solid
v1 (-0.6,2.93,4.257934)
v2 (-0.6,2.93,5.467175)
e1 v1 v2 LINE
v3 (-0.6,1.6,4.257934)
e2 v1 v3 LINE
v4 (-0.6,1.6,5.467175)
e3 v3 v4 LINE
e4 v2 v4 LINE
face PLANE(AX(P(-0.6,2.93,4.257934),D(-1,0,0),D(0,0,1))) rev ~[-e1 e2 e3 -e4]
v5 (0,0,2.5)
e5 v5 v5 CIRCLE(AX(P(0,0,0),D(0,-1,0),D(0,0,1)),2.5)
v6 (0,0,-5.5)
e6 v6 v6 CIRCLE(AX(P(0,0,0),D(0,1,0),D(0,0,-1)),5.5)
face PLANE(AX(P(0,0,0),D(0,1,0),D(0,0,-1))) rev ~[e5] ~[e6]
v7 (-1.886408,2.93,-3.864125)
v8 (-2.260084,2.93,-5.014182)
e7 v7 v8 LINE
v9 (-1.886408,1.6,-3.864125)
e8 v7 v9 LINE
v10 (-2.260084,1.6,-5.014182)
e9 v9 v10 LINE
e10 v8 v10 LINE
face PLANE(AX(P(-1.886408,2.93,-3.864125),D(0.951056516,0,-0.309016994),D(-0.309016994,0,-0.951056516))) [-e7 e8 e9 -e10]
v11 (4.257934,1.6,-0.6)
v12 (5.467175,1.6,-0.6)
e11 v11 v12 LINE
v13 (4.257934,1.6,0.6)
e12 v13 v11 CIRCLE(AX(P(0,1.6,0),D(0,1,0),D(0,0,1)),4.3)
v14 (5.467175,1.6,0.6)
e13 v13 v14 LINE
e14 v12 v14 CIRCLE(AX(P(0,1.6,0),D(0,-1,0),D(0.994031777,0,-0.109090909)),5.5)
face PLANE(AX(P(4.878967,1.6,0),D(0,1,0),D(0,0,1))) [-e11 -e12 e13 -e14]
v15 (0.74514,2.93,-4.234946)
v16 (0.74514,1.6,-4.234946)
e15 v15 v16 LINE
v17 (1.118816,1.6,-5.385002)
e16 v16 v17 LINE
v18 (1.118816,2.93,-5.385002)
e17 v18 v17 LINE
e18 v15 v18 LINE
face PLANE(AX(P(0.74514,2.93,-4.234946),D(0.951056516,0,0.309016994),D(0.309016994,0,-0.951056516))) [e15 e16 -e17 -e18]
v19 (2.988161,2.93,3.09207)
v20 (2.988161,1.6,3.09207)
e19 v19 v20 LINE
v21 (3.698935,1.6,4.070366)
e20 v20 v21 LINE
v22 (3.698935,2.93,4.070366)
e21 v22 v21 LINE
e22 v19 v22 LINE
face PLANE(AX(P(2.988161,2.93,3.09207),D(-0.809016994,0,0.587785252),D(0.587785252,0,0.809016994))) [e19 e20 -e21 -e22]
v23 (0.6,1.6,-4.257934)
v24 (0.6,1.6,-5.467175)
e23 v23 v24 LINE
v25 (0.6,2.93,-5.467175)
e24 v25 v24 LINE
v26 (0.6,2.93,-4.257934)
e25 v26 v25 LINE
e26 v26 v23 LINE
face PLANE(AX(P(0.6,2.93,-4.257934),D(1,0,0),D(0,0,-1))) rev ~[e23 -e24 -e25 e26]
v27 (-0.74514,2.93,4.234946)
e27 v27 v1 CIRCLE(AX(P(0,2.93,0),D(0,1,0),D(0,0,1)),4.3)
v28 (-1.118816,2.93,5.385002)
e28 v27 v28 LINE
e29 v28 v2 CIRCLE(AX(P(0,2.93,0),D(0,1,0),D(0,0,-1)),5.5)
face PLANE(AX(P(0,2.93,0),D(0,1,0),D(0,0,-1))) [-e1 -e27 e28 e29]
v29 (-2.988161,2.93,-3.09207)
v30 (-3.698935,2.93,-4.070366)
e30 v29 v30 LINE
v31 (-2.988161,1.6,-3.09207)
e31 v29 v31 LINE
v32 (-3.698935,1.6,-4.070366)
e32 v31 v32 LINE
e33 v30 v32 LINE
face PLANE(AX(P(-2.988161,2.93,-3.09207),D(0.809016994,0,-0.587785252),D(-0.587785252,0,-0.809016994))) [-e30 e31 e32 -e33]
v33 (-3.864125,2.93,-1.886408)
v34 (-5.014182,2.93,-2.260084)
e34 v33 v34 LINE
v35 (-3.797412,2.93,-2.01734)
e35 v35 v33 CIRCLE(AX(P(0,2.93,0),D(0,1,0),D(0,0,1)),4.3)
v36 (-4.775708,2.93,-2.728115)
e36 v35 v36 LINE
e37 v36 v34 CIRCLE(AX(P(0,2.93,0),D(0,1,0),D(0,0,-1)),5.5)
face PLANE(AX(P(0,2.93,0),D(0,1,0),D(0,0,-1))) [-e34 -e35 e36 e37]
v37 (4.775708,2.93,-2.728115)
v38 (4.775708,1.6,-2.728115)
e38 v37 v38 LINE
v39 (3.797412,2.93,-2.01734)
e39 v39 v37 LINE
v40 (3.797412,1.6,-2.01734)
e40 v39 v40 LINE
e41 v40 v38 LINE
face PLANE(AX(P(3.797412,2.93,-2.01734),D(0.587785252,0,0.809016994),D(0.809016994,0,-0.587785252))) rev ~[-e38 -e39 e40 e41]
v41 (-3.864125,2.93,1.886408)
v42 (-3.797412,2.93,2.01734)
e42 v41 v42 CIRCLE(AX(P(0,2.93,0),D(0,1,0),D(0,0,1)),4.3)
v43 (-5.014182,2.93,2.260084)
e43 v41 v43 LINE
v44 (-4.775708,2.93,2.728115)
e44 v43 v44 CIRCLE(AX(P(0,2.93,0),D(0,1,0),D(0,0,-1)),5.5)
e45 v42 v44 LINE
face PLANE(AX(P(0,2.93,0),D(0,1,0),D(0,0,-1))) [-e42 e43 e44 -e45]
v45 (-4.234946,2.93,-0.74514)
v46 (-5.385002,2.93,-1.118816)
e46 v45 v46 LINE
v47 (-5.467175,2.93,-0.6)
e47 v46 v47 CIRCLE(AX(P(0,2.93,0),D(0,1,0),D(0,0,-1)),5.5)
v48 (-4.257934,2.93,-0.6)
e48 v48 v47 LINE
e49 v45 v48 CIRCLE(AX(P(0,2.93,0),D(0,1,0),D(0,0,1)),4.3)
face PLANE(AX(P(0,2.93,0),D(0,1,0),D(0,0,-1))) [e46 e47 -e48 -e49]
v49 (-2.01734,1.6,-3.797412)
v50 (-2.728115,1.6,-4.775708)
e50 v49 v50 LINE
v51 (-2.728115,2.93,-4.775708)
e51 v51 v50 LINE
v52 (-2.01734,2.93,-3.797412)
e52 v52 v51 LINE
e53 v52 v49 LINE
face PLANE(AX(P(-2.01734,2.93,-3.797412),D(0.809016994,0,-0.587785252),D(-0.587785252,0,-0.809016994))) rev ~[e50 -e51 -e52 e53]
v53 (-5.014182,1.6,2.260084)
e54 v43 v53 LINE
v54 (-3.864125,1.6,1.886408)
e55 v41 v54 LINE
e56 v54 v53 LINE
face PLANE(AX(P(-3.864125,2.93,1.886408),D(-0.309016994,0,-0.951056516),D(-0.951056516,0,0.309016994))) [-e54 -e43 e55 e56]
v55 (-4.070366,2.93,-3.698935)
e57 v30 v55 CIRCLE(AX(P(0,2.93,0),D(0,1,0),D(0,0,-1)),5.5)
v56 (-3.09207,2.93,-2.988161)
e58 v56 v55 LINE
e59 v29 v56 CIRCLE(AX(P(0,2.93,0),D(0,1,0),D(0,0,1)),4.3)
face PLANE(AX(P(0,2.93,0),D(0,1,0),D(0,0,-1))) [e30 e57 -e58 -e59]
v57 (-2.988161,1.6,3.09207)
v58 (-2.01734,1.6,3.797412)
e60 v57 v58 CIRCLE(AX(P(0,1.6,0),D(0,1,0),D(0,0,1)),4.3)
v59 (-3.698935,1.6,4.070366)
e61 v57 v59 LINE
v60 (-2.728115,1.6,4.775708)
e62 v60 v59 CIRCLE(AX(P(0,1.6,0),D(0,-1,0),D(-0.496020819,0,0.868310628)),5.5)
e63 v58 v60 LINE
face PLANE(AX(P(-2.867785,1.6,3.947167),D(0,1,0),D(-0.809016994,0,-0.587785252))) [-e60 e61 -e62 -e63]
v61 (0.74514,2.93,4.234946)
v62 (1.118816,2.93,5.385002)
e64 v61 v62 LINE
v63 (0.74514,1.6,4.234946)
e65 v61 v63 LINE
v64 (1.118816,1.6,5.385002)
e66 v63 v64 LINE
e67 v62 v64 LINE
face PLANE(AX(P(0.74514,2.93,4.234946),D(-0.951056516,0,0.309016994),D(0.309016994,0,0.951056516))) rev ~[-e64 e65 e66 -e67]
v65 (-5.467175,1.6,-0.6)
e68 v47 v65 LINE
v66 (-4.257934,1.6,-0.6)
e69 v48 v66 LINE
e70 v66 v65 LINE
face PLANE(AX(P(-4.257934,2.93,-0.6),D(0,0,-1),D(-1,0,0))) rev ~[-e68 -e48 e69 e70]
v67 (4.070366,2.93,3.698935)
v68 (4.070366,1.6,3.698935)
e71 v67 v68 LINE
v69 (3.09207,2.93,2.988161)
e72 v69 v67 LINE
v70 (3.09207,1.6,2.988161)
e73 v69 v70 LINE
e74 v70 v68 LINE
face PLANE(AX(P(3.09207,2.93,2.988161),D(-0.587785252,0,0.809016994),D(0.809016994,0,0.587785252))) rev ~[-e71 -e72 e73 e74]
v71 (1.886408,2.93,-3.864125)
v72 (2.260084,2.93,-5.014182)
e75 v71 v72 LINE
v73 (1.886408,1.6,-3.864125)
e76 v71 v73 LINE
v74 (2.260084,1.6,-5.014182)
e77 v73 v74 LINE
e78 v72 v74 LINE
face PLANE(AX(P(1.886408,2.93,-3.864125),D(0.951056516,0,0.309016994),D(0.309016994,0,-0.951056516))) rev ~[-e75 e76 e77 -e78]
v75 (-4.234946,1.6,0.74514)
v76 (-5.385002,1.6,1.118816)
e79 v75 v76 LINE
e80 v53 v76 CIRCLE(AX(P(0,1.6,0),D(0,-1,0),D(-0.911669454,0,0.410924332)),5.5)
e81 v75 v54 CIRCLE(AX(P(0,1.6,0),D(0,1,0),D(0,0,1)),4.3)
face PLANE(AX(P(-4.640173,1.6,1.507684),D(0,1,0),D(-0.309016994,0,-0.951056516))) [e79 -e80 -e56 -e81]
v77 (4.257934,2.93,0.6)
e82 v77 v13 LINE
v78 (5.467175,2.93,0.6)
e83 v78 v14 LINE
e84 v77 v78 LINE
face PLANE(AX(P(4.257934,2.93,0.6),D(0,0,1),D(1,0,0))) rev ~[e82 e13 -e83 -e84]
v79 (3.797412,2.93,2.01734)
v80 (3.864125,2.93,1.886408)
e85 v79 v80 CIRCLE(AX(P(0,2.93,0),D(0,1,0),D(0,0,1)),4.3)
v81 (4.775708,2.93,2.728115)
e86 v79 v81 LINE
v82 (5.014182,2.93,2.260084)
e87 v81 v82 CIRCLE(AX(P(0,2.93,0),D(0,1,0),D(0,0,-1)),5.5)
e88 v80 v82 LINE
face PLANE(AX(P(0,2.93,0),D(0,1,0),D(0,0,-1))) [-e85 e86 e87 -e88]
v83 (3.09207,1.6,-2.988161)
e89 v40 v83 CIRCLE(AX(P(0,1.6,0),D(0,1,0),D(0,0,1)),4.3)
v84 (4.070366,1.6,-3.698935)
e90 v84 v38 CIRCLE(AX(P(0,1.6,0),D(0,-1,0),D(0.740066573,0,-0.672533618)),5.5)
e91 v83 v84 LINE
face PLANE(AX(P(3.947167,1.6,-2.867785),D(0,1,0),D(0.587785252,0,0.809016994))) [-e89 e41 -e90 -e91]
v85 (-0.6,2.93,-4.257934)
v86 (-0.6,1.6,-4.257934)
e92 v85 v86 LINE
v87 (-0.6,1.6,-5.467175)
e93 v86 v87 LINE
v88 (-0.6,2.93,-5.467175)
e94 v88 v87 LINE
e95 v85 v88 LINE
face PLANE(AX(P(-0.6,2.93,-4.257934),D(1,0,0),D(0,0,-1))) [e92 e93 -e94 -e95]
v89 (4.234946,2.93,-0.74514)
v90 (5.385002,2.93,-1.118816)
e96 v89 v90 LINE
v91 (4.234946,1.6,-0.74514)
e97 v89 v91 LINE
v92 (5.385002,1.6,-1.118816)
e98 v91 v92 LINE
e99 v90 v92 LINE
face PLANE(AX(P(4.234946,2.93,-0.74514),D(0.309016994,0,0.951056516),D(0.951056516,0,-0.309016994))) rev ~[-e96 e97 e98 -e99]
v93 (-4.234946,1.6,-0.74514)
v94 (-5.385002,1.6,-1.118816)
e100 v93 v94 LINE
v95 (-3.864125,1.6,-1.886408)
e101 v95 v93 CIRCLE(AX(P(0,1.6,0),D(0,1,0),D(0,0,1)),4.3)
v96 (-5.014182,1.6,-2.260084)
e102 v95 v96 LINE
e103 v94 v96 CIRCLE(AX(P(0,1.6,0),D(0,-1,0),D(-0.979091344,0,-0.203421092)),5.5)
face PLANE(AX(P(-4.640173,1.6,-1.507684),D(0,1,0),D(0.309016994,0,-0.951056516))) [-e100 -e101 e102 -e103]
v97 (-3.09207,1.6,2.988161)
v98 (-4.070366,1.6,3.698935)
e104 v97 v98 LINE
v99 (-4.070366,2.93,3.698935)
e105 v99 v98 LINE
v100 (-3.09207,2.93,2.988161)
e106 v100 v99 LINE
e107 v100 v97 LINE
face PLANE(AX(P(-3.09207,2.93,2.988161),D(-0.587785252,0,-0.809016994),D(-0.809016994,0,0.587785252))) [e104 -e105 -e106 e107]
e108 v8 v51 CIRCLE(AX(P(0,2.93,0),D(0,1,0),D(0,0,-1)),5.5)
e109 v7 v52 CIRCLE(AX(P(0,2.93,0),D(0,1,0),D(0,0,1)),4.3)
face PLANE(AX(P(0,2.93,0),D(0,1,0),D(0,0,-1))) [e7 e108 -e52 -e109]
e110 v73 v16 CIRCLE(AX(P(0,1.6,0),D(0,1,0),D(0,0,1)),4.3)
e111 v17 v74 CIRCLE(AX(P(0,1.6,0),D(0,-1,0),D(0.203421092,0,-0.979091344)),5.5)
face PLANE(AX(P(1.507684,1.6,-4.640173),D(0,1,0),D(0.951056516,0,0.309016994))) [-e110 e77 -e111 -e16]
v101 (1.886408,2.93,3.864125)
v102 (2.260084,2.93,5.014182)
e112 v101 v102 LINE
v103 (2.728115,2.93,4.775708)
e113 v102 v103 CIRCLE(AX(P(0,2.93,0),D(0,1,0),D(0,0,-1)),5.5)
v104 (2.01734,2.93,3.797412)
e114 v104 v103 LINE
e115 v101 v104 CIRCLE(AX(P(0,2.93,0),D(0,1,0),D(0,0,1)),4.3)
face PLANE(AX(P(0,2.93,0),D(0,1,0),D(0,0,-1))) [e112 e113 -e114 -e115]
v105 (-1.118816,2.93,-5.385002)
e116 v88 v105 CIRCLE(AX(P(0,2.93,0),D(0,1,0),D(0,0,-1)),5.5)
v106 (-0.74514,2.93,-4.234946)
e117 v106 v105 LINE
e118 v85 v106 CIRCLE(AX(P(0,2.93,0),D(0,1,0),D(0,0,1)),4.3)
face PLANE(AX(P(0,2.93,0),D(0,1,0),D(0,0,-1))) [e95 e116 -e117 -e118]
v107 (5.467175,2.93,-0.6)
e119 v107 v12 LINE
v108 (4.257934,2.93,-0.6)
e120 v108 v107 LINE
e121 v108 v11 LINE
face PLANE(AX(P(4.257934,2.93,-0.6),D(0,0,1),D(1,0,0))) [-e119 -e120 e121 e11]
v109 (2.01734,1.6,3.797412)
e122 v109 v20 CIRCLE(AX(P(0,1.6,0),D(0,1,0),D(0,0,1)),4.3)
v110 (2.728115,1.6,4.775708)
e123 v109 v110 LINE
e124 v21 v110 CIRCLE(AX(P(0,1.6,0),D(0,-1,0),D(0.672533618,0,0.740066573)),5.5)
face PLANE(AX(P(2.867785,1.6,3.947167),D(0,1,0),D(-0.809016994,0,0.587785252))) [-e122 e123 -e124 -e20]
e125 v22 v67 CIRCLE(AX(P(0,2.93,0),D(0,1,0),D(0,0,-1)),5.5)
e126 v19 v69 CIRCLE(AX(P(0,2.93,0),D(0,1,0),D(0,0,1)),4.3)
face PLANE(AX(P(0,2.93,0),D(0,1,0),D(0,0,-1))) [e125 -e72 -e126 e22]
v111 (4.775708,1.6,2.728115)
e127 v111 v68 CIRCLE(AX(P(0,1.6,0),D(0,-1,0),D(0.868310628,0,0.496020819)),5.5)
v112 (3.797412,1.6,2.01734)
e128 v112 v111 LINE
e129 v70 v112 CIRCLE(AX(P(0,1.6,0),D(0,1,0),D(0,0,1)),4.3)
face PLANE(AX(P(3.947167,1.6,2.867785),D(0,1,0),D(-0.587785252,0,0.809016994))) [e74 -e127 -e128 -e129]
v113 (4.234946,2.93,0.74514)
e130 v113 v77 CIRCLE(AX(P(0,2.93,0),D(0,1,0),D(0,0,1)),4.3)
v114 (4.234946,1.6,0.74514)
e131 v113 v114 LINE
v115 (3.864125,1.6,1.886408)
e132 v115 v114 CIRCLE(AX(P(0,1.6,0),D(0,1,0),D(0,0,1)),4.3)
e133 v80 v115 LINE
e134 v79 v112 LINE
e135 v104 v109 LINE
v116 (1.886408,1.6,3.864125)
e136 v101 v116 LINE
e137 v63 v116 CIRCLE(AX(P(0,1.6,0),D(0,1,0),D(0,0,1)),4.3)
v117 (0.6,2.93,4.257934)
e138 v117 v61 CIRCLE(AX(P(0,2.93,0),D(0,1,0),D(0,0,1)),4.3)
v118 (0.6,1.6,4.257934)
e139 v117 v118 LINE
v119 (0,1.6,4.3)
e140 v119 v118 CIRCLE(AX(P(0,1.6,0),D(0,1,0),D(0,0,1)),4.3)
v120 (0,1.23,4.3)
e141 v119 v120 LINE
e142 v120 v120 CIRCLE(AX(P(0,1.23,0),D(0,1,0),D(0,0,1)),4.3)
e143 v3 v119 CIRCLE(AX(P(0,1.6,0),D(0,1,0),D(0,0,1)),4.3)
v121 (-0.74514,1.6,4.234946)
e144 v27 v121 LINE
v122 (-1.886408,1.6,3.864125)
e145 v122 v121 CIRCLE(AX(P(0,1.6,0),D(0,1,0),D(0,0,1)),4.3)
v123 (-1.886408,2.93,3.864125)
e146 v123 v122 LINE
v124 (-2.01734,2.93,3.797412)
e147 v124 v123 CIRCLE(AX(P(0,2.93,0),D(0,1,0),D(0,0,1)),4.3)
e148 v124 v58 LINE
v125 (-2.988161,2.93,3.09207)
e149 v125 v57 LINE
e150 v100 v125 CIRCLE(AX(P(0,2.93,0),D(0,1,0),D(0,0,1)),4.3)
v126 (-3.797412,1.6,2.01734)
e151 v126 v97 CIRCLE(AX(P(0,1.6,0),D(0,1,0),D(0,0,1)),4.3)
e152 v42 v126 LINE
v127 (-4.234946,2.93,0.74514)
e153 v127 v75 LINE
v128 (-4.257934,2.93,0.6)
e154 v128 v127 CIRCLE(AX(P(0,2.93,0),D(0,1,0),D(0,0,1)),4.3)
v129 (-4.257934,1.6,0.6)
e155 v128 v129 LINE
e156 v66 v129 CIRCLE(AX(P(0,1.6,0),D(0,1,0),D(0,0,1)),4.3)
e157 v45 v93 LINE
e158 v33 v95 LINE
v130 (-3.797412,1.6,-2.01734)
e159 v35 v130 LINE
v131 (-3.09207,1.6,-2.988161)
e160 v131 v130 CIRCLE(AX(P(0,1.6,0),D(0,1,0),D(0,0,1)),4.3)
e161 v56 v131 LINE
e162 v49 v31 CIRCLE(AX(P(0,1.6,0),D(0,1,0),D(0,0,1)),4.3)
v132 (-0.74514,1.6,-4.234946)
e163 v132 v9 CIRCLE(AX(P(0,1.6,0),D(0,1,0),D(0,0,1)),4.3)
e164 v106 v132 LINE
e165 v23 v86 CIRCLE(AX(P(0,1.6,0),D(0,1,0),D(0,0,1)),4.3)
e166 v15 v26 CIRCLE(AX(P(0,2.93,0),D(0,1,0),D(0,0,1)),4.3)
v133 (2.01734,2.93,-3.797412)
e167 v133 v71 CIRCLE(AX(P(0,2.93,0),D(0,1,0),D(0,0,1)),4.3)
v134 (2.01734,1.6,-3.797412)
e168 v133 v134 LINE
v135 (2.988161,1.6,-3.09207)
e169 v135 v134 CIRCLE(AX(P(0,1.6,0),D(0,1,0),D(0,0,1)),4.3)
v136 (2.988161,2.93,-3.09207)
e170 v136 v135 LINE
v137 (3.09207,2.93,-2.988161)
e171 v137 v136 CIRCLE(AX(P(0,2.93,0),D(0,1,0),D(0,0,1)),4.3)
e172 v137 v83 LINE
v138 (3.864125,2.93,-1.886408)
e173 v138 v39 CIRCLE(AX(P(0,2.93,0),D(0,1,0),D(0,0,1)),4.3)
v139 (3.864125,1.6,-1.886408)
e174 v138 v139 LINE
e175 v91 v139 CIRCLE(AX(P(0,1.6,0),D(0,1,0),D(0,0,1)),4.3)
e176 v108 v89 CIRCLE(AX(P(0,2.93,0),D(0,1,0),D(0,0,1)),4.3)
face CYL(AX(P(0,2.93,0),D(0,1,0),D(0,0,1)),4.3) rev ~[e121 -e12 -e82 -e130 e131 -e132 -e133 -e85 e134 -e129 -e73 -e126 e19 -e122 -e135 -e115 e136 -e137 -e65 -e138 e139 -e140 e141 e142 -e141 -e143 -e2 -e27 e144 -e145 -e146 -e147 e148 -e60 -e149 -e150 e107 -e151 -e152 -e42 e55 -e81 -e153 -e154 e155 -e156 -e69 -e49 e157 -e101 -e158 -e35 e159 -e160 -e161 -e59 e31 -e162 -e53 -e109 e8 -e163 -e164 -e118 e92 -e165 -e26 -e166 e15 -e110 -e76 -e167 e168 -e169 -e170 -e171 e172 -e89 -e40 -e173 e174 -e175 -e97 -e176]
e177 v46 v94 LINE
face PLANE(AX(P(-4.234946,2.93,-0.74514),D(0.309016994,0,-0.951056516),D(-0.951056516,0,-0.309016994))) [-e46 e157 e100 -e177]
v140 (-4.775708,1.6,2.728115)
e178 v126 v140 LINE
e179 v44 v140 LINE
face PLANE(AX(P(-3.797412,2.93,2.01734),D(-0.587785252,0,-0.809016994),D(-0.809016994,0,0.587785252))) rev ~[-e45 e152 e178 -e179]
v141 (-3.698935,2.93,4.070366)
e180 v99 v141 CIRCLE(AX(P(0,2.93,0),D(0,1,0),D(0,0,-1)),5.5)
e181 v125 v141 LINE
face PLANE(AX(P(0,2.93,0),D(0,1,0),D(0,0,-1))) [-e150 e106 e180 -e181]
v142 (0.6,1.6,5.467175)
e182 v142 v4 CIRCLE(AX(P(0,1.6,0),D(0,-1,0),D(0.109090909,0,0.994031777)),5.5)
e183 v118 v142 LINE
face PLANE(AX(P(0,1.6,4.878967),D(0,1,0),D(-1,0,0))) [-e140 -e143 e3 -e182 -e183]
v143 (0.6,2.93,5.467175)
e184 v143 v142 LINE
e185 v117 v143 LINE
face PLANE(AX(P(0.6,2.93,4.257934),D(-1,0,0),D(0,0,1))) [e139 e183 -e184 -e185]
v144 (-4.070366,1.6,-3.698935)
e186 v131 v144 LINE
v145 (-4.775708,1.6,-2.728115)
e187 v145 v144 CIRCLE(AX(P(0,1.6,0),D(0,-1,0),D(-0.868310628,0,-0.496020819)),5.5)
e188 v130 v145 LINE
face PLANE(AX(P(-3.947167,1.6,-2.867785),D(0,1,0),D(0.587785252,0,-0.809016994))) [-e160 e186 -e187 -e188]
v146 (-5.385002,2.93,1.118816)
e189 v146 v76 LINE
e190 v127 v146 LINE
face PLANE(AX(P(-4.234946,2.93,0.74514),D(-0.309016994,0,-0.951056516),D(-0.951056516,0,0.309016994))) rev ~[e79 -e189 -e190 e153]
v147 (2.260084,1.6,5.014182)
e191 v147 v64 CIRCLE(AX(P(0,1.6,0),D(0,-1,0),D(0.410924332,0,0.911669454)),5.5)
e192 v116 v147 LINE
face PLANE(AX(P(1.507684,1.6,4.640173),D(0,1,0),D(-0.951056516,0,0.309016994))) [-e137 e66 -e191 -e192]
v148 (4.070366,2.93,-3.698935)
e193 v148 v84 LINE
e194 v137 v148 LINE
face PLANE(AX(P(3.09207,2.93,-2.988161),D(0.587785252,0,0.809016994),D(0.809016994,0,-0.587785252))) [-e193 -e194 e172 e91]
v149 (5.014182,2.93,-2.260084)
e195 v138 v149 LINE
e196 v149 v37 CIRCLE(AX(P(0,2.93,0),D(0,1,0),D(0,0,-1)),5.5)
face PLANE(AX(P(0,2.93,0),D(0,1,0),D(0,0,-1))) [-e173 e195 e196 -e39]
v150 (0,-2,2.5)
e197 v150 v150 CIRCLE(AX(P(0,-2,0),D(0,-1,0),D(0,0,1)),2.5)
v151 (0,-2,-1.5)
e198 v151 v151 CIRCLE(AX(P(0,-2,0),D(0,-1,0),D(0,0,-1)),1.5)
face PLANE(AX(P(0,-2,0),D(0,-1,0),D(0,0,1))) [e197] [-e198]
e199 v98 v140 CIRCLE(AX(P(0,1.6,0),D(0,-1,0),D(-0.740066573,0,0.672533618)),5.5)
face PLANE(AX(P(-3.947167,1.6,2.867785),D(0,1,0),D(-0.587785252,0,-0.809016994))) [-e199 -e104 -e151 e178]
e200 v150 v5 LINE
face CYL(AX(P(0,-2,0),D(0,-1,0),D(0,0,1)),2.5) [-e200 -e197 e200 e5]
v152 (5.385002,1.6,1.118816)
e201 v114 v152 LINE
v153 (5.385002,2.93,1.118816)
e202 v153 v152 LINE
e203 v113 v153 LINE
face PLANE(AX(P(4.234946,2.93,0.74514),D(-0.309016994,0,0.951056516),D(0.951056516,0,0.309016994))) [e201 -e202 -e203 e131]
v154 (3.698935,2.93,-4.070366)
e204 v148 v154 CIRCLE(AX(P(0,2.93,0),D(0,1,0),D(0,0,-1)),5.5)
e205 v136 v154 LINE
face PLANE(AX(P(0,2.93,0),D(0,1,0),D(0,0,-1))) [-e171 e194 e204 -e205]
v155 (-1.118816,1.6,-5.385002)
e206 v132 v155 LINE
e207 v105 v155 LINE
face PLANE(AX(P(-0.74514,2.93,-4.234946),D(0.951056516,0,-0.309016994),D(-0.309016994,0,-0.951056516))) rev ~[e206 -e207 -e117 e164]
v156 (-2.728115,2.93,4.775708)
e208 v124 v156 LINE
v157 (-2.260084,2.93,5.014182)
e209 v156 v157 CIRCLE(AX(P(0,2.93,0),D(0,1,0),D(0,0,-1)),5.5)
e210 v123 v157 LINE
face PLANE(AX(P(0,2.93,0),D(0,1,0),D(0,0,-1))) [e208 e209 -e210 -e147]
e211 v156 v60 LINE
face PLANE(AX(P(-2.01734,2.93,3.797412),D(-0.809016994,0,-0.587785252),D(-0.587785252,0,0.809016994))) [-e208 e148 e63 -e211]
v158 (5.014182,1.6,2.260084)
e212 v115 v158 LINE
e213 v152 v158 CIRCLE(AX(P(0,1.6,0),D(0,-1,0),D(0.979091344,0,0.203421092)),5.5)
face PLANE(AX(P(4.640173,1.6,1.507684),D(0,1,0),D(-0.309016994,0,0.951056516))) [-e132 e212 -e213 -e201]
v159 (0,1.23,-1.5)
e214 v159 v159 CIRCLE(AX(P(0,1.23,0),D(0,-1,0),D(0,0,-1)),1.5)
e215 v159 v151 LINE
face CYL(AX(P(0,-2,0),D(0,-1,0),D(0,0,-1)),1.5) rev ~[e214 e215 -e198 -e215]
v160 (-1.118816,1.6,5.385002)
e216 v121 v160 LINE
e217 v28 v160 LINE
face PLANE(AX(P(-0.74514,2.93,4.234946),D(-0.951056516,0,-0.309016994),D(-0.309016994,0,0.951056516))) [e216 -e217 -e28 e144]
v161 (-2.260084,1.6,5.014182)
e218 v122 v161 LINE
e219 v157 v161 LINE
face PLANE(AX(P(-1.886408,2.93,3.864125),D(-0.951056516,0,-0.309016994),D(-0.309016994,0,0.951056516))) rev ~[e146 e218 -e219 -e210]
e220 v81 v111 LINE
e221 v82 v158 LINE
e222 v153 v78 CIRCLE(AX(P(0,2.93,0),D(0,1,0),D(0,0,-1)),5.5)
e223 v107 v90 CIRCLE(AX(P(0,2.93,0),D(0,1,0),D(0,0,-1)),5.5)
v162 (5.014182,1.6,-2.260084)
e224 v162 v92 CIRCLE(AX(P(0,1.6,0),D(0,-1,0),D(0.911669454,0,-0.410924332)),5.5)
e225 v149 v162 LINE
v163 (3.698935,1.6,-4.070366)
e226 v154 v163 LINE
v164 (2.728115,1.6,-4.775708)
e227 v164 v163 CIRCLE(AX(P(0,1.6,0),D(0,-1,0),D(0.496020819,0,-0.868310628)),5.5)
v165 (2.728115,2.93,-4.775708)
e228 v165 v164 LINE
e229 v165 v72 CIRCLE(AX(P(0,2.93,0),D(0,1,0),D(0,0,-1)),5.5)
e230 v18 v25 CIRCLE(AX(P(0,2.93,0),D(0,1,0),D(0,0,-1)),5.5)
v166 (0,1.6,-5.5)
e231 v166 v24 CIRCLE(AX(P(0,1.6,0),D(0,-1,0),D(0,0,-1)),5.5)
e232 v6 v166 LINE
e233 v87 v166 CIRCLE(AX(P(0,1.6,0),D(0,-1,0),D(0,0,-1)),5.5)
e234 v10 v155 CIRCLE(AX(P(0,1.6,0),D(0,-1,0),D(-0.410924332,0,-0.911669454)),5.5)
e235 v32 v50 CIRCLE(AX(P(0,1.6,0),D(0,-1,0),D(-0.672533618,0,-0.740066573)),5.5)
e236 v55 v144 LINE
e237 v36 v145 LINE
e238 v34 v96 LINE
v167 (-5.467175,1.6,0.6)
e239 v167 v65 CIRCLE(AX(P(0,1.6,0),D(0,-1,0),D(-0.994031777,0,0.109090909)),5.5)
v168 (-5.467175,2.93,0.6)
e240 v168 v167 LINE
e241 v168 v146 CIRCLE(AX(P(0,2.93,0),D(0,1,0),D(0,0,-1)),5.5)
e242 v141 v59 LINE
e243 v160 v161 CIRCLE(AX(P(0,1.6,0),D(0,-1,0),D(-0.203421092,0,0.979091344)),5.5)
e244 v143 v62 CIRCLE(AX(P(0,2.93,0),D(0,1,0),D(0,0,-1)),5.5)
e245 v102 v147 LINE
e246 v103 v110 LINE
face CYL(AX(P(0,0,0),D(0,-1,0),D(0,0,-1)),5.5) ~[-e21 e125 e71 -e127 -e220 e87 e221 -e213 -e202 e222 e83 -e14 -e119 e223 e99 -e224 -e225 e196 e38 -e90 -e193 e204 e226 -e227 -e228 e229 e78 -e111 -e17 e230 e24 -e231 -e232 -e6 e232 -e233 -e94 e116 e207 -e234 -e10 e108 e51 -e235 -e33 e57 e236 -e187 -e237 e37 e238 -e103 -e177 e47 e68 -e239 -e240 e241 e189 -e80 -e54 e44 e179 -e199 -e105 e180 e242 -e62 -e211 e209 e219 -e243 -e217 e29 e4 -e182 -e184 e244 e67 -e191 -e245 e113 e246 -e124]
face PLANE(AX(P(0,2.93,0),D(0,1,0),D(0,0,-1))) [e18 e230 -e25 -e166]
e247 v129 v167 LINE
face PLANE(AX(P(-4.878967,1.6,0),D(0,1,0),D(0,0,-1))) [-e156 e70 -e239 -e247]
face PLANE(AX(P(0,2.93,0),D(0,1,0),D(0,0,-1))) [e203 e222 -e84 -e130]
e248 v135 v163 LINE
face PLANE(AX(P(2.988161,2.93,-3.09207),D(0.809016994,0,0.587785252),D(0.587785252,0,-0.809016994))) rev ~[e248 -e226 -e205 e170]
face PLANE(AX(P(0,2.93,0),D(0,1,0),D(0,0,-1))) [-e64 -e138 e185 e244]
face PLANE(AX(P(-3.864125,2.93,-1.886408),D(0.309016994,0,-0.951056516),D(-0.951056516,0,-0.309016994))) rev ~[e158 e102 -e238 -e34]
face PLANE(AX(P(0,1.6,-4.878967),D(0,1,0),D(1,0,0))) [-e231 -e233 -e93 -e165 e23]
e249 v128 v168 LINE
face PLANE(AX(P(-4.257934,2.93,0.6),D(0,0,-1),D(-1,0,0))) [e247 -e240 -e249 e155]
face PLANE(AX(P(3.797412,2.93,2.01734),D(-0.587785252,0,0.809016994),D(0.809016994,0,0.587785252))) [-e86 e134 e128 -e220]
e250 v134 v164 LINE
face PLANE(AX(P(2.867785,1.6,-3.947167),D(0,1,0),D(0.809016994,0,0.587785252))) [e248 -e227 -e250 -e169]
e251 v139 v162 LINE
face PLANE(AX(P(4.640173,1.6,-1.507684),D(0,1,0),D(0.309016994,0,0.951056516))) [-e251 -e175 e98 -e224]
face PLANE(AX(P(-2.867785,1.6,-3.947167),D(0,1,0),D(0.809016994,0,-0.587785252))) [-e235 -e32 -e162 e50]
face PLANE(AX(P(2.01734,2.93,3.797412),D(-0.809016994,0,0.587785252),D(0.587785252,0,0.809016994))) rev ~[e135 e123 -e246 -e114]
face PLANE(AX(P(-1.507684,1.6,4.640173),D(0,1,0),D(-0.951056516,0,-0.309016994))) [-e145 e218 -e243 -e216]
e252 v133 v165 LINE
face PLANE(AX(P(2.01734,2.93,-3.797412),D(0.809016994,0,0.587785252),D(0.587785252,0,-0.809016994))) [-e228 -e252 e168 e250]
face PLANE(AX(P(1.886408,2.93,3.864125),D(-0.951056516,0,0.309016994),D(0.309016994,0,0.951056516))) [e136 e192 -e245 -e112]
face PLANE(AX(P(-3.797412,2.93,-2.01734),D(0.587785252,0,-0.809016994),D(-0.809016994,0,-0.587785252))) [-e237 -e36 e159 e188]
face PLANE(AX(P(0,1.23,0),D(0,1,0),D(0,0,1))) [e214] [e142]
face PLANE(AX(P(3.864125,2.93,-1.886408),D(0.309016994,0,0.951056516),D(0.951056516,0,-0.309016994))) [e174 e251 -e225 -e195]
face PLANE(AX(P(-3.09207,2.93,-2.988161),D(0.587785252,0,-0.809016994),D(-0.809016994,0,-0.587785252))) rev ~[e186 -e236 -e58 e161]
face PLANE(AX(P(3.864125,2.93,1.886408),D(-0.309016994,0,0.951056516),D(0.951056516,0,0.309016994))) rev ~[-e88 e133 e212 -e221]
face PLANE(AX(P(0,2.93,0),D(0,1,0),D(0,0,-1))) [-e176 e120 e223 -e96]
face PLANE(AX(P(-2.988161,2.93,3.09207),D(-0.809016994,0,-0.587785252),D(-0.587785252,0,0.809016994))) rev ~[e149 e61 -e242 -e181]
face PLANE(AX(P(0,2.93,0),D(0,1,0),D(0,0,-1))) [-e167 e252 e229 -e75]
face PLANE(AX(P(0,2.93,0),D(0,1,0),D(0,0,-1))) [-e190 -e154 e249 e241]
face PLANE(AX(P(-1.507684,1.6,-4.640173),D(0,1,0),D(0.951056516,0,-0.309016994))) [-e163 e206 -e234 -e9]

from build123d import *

# Parameters (mm, degrees)
SKETCH_4_R               = 5.5
SKETCH_4_R_2             = 1.5
EXTRUDE_1_DEPTH          = 2.93
EXTRUDE_START            = 2
SKETCH_5_R               = 2.5
SKETCH_5_R_2             = 1.5
EXTRUDE_2_DEPTH          = 2
SKETCH_6_R               = 4.3
CUT_EXTRUDE_1_DEPTH      = 1.7
SKETCH_7_W               = 1.2
SKETCH_7_H               = 1.242066229
CUT_EXTRUDE_2_DEPTH      = 1.33
PATTERN_CIRCULAR_1_COUNT = 20


with BuildPart() as part:
    # 草图4 → 凸台-拉伸1 (new body)
    with BuildSketch(Plane(origin=(0, 0, 0), x_dir=(1, 0, 0), z_dir=(0, 1, 0))):
        with Locations(Location((0, 0, 0), (0, 0, 90))):
            Circle(SKETCH_4_R)
        with Locations(Location((0, 0, 0), (0, 0, 90))):
            Circle(SKETCH_4_R_2, mode=Mode.SUBTRACT)
    extrude(amount=EXTRUDE_1_DEPTH)

    # 草图5 → 凸台-拉伸2 (add)
    with BuildSketch(Plane.XZ.offset(EXTRUDE_START)):
        with Locations(Location((0, 0, 0), (0, 0, 90))):
            Circle(SKETCH_5_R)
        with Locations(Location((0, 0, 0), (0, 0, 270))):
            Circle(SKETCH_5_R_2, mode=Mode.SUBTRACT)
    extrude(amount=-EXTRUDE_2_DEPTH)

    # 草图6 → 切除-拉伸1 (cut)
    with BuildSketch(Plane(origin=(0, 2.93, 0), x_dir=(1, 0, 0), z_dir=(0, 1, 0))):
        with Locations(Location((0, 0, 0), (0, 0, 270))):
            Circle(SKETCH_6_R)
    extrude(amount=-CUT_EXTRUDE_1_DEPTH, mode=Mode.SUBTRACT)

    # 草图7 → 切除-拉伸2 (cut)
    with BuildSketch(Plane(origin=(0, 2.93, 0), x_dir=(1, 0, 0), z_dir=(0, 1, 0))):
        with Locations((0, 4.878966886)):
            Rectangle(SKETCH_7_W, SKETCH_7_H)
    cut_extrude_2 = extrude(amount=-CUT_EXTRUDE_2_DEPTH, mode=Mode.SUBTRACT)

    # 阵列(圆周)1: 切除-拉伸2 ×20 about axis
    pattern_circular_1_axis = Axis((0, 0, 0), (0, 1, 0))
    for i in range(1, PATTERN_CIRCULAR_1_COUNT):
        add(cut_extrude_2.rotate(pattern_circular_1_axis, i * 360 / PATTERN_CIRCULAR_1_COUNT), mode=Mode.SUBTRACT)


solid = part.part
